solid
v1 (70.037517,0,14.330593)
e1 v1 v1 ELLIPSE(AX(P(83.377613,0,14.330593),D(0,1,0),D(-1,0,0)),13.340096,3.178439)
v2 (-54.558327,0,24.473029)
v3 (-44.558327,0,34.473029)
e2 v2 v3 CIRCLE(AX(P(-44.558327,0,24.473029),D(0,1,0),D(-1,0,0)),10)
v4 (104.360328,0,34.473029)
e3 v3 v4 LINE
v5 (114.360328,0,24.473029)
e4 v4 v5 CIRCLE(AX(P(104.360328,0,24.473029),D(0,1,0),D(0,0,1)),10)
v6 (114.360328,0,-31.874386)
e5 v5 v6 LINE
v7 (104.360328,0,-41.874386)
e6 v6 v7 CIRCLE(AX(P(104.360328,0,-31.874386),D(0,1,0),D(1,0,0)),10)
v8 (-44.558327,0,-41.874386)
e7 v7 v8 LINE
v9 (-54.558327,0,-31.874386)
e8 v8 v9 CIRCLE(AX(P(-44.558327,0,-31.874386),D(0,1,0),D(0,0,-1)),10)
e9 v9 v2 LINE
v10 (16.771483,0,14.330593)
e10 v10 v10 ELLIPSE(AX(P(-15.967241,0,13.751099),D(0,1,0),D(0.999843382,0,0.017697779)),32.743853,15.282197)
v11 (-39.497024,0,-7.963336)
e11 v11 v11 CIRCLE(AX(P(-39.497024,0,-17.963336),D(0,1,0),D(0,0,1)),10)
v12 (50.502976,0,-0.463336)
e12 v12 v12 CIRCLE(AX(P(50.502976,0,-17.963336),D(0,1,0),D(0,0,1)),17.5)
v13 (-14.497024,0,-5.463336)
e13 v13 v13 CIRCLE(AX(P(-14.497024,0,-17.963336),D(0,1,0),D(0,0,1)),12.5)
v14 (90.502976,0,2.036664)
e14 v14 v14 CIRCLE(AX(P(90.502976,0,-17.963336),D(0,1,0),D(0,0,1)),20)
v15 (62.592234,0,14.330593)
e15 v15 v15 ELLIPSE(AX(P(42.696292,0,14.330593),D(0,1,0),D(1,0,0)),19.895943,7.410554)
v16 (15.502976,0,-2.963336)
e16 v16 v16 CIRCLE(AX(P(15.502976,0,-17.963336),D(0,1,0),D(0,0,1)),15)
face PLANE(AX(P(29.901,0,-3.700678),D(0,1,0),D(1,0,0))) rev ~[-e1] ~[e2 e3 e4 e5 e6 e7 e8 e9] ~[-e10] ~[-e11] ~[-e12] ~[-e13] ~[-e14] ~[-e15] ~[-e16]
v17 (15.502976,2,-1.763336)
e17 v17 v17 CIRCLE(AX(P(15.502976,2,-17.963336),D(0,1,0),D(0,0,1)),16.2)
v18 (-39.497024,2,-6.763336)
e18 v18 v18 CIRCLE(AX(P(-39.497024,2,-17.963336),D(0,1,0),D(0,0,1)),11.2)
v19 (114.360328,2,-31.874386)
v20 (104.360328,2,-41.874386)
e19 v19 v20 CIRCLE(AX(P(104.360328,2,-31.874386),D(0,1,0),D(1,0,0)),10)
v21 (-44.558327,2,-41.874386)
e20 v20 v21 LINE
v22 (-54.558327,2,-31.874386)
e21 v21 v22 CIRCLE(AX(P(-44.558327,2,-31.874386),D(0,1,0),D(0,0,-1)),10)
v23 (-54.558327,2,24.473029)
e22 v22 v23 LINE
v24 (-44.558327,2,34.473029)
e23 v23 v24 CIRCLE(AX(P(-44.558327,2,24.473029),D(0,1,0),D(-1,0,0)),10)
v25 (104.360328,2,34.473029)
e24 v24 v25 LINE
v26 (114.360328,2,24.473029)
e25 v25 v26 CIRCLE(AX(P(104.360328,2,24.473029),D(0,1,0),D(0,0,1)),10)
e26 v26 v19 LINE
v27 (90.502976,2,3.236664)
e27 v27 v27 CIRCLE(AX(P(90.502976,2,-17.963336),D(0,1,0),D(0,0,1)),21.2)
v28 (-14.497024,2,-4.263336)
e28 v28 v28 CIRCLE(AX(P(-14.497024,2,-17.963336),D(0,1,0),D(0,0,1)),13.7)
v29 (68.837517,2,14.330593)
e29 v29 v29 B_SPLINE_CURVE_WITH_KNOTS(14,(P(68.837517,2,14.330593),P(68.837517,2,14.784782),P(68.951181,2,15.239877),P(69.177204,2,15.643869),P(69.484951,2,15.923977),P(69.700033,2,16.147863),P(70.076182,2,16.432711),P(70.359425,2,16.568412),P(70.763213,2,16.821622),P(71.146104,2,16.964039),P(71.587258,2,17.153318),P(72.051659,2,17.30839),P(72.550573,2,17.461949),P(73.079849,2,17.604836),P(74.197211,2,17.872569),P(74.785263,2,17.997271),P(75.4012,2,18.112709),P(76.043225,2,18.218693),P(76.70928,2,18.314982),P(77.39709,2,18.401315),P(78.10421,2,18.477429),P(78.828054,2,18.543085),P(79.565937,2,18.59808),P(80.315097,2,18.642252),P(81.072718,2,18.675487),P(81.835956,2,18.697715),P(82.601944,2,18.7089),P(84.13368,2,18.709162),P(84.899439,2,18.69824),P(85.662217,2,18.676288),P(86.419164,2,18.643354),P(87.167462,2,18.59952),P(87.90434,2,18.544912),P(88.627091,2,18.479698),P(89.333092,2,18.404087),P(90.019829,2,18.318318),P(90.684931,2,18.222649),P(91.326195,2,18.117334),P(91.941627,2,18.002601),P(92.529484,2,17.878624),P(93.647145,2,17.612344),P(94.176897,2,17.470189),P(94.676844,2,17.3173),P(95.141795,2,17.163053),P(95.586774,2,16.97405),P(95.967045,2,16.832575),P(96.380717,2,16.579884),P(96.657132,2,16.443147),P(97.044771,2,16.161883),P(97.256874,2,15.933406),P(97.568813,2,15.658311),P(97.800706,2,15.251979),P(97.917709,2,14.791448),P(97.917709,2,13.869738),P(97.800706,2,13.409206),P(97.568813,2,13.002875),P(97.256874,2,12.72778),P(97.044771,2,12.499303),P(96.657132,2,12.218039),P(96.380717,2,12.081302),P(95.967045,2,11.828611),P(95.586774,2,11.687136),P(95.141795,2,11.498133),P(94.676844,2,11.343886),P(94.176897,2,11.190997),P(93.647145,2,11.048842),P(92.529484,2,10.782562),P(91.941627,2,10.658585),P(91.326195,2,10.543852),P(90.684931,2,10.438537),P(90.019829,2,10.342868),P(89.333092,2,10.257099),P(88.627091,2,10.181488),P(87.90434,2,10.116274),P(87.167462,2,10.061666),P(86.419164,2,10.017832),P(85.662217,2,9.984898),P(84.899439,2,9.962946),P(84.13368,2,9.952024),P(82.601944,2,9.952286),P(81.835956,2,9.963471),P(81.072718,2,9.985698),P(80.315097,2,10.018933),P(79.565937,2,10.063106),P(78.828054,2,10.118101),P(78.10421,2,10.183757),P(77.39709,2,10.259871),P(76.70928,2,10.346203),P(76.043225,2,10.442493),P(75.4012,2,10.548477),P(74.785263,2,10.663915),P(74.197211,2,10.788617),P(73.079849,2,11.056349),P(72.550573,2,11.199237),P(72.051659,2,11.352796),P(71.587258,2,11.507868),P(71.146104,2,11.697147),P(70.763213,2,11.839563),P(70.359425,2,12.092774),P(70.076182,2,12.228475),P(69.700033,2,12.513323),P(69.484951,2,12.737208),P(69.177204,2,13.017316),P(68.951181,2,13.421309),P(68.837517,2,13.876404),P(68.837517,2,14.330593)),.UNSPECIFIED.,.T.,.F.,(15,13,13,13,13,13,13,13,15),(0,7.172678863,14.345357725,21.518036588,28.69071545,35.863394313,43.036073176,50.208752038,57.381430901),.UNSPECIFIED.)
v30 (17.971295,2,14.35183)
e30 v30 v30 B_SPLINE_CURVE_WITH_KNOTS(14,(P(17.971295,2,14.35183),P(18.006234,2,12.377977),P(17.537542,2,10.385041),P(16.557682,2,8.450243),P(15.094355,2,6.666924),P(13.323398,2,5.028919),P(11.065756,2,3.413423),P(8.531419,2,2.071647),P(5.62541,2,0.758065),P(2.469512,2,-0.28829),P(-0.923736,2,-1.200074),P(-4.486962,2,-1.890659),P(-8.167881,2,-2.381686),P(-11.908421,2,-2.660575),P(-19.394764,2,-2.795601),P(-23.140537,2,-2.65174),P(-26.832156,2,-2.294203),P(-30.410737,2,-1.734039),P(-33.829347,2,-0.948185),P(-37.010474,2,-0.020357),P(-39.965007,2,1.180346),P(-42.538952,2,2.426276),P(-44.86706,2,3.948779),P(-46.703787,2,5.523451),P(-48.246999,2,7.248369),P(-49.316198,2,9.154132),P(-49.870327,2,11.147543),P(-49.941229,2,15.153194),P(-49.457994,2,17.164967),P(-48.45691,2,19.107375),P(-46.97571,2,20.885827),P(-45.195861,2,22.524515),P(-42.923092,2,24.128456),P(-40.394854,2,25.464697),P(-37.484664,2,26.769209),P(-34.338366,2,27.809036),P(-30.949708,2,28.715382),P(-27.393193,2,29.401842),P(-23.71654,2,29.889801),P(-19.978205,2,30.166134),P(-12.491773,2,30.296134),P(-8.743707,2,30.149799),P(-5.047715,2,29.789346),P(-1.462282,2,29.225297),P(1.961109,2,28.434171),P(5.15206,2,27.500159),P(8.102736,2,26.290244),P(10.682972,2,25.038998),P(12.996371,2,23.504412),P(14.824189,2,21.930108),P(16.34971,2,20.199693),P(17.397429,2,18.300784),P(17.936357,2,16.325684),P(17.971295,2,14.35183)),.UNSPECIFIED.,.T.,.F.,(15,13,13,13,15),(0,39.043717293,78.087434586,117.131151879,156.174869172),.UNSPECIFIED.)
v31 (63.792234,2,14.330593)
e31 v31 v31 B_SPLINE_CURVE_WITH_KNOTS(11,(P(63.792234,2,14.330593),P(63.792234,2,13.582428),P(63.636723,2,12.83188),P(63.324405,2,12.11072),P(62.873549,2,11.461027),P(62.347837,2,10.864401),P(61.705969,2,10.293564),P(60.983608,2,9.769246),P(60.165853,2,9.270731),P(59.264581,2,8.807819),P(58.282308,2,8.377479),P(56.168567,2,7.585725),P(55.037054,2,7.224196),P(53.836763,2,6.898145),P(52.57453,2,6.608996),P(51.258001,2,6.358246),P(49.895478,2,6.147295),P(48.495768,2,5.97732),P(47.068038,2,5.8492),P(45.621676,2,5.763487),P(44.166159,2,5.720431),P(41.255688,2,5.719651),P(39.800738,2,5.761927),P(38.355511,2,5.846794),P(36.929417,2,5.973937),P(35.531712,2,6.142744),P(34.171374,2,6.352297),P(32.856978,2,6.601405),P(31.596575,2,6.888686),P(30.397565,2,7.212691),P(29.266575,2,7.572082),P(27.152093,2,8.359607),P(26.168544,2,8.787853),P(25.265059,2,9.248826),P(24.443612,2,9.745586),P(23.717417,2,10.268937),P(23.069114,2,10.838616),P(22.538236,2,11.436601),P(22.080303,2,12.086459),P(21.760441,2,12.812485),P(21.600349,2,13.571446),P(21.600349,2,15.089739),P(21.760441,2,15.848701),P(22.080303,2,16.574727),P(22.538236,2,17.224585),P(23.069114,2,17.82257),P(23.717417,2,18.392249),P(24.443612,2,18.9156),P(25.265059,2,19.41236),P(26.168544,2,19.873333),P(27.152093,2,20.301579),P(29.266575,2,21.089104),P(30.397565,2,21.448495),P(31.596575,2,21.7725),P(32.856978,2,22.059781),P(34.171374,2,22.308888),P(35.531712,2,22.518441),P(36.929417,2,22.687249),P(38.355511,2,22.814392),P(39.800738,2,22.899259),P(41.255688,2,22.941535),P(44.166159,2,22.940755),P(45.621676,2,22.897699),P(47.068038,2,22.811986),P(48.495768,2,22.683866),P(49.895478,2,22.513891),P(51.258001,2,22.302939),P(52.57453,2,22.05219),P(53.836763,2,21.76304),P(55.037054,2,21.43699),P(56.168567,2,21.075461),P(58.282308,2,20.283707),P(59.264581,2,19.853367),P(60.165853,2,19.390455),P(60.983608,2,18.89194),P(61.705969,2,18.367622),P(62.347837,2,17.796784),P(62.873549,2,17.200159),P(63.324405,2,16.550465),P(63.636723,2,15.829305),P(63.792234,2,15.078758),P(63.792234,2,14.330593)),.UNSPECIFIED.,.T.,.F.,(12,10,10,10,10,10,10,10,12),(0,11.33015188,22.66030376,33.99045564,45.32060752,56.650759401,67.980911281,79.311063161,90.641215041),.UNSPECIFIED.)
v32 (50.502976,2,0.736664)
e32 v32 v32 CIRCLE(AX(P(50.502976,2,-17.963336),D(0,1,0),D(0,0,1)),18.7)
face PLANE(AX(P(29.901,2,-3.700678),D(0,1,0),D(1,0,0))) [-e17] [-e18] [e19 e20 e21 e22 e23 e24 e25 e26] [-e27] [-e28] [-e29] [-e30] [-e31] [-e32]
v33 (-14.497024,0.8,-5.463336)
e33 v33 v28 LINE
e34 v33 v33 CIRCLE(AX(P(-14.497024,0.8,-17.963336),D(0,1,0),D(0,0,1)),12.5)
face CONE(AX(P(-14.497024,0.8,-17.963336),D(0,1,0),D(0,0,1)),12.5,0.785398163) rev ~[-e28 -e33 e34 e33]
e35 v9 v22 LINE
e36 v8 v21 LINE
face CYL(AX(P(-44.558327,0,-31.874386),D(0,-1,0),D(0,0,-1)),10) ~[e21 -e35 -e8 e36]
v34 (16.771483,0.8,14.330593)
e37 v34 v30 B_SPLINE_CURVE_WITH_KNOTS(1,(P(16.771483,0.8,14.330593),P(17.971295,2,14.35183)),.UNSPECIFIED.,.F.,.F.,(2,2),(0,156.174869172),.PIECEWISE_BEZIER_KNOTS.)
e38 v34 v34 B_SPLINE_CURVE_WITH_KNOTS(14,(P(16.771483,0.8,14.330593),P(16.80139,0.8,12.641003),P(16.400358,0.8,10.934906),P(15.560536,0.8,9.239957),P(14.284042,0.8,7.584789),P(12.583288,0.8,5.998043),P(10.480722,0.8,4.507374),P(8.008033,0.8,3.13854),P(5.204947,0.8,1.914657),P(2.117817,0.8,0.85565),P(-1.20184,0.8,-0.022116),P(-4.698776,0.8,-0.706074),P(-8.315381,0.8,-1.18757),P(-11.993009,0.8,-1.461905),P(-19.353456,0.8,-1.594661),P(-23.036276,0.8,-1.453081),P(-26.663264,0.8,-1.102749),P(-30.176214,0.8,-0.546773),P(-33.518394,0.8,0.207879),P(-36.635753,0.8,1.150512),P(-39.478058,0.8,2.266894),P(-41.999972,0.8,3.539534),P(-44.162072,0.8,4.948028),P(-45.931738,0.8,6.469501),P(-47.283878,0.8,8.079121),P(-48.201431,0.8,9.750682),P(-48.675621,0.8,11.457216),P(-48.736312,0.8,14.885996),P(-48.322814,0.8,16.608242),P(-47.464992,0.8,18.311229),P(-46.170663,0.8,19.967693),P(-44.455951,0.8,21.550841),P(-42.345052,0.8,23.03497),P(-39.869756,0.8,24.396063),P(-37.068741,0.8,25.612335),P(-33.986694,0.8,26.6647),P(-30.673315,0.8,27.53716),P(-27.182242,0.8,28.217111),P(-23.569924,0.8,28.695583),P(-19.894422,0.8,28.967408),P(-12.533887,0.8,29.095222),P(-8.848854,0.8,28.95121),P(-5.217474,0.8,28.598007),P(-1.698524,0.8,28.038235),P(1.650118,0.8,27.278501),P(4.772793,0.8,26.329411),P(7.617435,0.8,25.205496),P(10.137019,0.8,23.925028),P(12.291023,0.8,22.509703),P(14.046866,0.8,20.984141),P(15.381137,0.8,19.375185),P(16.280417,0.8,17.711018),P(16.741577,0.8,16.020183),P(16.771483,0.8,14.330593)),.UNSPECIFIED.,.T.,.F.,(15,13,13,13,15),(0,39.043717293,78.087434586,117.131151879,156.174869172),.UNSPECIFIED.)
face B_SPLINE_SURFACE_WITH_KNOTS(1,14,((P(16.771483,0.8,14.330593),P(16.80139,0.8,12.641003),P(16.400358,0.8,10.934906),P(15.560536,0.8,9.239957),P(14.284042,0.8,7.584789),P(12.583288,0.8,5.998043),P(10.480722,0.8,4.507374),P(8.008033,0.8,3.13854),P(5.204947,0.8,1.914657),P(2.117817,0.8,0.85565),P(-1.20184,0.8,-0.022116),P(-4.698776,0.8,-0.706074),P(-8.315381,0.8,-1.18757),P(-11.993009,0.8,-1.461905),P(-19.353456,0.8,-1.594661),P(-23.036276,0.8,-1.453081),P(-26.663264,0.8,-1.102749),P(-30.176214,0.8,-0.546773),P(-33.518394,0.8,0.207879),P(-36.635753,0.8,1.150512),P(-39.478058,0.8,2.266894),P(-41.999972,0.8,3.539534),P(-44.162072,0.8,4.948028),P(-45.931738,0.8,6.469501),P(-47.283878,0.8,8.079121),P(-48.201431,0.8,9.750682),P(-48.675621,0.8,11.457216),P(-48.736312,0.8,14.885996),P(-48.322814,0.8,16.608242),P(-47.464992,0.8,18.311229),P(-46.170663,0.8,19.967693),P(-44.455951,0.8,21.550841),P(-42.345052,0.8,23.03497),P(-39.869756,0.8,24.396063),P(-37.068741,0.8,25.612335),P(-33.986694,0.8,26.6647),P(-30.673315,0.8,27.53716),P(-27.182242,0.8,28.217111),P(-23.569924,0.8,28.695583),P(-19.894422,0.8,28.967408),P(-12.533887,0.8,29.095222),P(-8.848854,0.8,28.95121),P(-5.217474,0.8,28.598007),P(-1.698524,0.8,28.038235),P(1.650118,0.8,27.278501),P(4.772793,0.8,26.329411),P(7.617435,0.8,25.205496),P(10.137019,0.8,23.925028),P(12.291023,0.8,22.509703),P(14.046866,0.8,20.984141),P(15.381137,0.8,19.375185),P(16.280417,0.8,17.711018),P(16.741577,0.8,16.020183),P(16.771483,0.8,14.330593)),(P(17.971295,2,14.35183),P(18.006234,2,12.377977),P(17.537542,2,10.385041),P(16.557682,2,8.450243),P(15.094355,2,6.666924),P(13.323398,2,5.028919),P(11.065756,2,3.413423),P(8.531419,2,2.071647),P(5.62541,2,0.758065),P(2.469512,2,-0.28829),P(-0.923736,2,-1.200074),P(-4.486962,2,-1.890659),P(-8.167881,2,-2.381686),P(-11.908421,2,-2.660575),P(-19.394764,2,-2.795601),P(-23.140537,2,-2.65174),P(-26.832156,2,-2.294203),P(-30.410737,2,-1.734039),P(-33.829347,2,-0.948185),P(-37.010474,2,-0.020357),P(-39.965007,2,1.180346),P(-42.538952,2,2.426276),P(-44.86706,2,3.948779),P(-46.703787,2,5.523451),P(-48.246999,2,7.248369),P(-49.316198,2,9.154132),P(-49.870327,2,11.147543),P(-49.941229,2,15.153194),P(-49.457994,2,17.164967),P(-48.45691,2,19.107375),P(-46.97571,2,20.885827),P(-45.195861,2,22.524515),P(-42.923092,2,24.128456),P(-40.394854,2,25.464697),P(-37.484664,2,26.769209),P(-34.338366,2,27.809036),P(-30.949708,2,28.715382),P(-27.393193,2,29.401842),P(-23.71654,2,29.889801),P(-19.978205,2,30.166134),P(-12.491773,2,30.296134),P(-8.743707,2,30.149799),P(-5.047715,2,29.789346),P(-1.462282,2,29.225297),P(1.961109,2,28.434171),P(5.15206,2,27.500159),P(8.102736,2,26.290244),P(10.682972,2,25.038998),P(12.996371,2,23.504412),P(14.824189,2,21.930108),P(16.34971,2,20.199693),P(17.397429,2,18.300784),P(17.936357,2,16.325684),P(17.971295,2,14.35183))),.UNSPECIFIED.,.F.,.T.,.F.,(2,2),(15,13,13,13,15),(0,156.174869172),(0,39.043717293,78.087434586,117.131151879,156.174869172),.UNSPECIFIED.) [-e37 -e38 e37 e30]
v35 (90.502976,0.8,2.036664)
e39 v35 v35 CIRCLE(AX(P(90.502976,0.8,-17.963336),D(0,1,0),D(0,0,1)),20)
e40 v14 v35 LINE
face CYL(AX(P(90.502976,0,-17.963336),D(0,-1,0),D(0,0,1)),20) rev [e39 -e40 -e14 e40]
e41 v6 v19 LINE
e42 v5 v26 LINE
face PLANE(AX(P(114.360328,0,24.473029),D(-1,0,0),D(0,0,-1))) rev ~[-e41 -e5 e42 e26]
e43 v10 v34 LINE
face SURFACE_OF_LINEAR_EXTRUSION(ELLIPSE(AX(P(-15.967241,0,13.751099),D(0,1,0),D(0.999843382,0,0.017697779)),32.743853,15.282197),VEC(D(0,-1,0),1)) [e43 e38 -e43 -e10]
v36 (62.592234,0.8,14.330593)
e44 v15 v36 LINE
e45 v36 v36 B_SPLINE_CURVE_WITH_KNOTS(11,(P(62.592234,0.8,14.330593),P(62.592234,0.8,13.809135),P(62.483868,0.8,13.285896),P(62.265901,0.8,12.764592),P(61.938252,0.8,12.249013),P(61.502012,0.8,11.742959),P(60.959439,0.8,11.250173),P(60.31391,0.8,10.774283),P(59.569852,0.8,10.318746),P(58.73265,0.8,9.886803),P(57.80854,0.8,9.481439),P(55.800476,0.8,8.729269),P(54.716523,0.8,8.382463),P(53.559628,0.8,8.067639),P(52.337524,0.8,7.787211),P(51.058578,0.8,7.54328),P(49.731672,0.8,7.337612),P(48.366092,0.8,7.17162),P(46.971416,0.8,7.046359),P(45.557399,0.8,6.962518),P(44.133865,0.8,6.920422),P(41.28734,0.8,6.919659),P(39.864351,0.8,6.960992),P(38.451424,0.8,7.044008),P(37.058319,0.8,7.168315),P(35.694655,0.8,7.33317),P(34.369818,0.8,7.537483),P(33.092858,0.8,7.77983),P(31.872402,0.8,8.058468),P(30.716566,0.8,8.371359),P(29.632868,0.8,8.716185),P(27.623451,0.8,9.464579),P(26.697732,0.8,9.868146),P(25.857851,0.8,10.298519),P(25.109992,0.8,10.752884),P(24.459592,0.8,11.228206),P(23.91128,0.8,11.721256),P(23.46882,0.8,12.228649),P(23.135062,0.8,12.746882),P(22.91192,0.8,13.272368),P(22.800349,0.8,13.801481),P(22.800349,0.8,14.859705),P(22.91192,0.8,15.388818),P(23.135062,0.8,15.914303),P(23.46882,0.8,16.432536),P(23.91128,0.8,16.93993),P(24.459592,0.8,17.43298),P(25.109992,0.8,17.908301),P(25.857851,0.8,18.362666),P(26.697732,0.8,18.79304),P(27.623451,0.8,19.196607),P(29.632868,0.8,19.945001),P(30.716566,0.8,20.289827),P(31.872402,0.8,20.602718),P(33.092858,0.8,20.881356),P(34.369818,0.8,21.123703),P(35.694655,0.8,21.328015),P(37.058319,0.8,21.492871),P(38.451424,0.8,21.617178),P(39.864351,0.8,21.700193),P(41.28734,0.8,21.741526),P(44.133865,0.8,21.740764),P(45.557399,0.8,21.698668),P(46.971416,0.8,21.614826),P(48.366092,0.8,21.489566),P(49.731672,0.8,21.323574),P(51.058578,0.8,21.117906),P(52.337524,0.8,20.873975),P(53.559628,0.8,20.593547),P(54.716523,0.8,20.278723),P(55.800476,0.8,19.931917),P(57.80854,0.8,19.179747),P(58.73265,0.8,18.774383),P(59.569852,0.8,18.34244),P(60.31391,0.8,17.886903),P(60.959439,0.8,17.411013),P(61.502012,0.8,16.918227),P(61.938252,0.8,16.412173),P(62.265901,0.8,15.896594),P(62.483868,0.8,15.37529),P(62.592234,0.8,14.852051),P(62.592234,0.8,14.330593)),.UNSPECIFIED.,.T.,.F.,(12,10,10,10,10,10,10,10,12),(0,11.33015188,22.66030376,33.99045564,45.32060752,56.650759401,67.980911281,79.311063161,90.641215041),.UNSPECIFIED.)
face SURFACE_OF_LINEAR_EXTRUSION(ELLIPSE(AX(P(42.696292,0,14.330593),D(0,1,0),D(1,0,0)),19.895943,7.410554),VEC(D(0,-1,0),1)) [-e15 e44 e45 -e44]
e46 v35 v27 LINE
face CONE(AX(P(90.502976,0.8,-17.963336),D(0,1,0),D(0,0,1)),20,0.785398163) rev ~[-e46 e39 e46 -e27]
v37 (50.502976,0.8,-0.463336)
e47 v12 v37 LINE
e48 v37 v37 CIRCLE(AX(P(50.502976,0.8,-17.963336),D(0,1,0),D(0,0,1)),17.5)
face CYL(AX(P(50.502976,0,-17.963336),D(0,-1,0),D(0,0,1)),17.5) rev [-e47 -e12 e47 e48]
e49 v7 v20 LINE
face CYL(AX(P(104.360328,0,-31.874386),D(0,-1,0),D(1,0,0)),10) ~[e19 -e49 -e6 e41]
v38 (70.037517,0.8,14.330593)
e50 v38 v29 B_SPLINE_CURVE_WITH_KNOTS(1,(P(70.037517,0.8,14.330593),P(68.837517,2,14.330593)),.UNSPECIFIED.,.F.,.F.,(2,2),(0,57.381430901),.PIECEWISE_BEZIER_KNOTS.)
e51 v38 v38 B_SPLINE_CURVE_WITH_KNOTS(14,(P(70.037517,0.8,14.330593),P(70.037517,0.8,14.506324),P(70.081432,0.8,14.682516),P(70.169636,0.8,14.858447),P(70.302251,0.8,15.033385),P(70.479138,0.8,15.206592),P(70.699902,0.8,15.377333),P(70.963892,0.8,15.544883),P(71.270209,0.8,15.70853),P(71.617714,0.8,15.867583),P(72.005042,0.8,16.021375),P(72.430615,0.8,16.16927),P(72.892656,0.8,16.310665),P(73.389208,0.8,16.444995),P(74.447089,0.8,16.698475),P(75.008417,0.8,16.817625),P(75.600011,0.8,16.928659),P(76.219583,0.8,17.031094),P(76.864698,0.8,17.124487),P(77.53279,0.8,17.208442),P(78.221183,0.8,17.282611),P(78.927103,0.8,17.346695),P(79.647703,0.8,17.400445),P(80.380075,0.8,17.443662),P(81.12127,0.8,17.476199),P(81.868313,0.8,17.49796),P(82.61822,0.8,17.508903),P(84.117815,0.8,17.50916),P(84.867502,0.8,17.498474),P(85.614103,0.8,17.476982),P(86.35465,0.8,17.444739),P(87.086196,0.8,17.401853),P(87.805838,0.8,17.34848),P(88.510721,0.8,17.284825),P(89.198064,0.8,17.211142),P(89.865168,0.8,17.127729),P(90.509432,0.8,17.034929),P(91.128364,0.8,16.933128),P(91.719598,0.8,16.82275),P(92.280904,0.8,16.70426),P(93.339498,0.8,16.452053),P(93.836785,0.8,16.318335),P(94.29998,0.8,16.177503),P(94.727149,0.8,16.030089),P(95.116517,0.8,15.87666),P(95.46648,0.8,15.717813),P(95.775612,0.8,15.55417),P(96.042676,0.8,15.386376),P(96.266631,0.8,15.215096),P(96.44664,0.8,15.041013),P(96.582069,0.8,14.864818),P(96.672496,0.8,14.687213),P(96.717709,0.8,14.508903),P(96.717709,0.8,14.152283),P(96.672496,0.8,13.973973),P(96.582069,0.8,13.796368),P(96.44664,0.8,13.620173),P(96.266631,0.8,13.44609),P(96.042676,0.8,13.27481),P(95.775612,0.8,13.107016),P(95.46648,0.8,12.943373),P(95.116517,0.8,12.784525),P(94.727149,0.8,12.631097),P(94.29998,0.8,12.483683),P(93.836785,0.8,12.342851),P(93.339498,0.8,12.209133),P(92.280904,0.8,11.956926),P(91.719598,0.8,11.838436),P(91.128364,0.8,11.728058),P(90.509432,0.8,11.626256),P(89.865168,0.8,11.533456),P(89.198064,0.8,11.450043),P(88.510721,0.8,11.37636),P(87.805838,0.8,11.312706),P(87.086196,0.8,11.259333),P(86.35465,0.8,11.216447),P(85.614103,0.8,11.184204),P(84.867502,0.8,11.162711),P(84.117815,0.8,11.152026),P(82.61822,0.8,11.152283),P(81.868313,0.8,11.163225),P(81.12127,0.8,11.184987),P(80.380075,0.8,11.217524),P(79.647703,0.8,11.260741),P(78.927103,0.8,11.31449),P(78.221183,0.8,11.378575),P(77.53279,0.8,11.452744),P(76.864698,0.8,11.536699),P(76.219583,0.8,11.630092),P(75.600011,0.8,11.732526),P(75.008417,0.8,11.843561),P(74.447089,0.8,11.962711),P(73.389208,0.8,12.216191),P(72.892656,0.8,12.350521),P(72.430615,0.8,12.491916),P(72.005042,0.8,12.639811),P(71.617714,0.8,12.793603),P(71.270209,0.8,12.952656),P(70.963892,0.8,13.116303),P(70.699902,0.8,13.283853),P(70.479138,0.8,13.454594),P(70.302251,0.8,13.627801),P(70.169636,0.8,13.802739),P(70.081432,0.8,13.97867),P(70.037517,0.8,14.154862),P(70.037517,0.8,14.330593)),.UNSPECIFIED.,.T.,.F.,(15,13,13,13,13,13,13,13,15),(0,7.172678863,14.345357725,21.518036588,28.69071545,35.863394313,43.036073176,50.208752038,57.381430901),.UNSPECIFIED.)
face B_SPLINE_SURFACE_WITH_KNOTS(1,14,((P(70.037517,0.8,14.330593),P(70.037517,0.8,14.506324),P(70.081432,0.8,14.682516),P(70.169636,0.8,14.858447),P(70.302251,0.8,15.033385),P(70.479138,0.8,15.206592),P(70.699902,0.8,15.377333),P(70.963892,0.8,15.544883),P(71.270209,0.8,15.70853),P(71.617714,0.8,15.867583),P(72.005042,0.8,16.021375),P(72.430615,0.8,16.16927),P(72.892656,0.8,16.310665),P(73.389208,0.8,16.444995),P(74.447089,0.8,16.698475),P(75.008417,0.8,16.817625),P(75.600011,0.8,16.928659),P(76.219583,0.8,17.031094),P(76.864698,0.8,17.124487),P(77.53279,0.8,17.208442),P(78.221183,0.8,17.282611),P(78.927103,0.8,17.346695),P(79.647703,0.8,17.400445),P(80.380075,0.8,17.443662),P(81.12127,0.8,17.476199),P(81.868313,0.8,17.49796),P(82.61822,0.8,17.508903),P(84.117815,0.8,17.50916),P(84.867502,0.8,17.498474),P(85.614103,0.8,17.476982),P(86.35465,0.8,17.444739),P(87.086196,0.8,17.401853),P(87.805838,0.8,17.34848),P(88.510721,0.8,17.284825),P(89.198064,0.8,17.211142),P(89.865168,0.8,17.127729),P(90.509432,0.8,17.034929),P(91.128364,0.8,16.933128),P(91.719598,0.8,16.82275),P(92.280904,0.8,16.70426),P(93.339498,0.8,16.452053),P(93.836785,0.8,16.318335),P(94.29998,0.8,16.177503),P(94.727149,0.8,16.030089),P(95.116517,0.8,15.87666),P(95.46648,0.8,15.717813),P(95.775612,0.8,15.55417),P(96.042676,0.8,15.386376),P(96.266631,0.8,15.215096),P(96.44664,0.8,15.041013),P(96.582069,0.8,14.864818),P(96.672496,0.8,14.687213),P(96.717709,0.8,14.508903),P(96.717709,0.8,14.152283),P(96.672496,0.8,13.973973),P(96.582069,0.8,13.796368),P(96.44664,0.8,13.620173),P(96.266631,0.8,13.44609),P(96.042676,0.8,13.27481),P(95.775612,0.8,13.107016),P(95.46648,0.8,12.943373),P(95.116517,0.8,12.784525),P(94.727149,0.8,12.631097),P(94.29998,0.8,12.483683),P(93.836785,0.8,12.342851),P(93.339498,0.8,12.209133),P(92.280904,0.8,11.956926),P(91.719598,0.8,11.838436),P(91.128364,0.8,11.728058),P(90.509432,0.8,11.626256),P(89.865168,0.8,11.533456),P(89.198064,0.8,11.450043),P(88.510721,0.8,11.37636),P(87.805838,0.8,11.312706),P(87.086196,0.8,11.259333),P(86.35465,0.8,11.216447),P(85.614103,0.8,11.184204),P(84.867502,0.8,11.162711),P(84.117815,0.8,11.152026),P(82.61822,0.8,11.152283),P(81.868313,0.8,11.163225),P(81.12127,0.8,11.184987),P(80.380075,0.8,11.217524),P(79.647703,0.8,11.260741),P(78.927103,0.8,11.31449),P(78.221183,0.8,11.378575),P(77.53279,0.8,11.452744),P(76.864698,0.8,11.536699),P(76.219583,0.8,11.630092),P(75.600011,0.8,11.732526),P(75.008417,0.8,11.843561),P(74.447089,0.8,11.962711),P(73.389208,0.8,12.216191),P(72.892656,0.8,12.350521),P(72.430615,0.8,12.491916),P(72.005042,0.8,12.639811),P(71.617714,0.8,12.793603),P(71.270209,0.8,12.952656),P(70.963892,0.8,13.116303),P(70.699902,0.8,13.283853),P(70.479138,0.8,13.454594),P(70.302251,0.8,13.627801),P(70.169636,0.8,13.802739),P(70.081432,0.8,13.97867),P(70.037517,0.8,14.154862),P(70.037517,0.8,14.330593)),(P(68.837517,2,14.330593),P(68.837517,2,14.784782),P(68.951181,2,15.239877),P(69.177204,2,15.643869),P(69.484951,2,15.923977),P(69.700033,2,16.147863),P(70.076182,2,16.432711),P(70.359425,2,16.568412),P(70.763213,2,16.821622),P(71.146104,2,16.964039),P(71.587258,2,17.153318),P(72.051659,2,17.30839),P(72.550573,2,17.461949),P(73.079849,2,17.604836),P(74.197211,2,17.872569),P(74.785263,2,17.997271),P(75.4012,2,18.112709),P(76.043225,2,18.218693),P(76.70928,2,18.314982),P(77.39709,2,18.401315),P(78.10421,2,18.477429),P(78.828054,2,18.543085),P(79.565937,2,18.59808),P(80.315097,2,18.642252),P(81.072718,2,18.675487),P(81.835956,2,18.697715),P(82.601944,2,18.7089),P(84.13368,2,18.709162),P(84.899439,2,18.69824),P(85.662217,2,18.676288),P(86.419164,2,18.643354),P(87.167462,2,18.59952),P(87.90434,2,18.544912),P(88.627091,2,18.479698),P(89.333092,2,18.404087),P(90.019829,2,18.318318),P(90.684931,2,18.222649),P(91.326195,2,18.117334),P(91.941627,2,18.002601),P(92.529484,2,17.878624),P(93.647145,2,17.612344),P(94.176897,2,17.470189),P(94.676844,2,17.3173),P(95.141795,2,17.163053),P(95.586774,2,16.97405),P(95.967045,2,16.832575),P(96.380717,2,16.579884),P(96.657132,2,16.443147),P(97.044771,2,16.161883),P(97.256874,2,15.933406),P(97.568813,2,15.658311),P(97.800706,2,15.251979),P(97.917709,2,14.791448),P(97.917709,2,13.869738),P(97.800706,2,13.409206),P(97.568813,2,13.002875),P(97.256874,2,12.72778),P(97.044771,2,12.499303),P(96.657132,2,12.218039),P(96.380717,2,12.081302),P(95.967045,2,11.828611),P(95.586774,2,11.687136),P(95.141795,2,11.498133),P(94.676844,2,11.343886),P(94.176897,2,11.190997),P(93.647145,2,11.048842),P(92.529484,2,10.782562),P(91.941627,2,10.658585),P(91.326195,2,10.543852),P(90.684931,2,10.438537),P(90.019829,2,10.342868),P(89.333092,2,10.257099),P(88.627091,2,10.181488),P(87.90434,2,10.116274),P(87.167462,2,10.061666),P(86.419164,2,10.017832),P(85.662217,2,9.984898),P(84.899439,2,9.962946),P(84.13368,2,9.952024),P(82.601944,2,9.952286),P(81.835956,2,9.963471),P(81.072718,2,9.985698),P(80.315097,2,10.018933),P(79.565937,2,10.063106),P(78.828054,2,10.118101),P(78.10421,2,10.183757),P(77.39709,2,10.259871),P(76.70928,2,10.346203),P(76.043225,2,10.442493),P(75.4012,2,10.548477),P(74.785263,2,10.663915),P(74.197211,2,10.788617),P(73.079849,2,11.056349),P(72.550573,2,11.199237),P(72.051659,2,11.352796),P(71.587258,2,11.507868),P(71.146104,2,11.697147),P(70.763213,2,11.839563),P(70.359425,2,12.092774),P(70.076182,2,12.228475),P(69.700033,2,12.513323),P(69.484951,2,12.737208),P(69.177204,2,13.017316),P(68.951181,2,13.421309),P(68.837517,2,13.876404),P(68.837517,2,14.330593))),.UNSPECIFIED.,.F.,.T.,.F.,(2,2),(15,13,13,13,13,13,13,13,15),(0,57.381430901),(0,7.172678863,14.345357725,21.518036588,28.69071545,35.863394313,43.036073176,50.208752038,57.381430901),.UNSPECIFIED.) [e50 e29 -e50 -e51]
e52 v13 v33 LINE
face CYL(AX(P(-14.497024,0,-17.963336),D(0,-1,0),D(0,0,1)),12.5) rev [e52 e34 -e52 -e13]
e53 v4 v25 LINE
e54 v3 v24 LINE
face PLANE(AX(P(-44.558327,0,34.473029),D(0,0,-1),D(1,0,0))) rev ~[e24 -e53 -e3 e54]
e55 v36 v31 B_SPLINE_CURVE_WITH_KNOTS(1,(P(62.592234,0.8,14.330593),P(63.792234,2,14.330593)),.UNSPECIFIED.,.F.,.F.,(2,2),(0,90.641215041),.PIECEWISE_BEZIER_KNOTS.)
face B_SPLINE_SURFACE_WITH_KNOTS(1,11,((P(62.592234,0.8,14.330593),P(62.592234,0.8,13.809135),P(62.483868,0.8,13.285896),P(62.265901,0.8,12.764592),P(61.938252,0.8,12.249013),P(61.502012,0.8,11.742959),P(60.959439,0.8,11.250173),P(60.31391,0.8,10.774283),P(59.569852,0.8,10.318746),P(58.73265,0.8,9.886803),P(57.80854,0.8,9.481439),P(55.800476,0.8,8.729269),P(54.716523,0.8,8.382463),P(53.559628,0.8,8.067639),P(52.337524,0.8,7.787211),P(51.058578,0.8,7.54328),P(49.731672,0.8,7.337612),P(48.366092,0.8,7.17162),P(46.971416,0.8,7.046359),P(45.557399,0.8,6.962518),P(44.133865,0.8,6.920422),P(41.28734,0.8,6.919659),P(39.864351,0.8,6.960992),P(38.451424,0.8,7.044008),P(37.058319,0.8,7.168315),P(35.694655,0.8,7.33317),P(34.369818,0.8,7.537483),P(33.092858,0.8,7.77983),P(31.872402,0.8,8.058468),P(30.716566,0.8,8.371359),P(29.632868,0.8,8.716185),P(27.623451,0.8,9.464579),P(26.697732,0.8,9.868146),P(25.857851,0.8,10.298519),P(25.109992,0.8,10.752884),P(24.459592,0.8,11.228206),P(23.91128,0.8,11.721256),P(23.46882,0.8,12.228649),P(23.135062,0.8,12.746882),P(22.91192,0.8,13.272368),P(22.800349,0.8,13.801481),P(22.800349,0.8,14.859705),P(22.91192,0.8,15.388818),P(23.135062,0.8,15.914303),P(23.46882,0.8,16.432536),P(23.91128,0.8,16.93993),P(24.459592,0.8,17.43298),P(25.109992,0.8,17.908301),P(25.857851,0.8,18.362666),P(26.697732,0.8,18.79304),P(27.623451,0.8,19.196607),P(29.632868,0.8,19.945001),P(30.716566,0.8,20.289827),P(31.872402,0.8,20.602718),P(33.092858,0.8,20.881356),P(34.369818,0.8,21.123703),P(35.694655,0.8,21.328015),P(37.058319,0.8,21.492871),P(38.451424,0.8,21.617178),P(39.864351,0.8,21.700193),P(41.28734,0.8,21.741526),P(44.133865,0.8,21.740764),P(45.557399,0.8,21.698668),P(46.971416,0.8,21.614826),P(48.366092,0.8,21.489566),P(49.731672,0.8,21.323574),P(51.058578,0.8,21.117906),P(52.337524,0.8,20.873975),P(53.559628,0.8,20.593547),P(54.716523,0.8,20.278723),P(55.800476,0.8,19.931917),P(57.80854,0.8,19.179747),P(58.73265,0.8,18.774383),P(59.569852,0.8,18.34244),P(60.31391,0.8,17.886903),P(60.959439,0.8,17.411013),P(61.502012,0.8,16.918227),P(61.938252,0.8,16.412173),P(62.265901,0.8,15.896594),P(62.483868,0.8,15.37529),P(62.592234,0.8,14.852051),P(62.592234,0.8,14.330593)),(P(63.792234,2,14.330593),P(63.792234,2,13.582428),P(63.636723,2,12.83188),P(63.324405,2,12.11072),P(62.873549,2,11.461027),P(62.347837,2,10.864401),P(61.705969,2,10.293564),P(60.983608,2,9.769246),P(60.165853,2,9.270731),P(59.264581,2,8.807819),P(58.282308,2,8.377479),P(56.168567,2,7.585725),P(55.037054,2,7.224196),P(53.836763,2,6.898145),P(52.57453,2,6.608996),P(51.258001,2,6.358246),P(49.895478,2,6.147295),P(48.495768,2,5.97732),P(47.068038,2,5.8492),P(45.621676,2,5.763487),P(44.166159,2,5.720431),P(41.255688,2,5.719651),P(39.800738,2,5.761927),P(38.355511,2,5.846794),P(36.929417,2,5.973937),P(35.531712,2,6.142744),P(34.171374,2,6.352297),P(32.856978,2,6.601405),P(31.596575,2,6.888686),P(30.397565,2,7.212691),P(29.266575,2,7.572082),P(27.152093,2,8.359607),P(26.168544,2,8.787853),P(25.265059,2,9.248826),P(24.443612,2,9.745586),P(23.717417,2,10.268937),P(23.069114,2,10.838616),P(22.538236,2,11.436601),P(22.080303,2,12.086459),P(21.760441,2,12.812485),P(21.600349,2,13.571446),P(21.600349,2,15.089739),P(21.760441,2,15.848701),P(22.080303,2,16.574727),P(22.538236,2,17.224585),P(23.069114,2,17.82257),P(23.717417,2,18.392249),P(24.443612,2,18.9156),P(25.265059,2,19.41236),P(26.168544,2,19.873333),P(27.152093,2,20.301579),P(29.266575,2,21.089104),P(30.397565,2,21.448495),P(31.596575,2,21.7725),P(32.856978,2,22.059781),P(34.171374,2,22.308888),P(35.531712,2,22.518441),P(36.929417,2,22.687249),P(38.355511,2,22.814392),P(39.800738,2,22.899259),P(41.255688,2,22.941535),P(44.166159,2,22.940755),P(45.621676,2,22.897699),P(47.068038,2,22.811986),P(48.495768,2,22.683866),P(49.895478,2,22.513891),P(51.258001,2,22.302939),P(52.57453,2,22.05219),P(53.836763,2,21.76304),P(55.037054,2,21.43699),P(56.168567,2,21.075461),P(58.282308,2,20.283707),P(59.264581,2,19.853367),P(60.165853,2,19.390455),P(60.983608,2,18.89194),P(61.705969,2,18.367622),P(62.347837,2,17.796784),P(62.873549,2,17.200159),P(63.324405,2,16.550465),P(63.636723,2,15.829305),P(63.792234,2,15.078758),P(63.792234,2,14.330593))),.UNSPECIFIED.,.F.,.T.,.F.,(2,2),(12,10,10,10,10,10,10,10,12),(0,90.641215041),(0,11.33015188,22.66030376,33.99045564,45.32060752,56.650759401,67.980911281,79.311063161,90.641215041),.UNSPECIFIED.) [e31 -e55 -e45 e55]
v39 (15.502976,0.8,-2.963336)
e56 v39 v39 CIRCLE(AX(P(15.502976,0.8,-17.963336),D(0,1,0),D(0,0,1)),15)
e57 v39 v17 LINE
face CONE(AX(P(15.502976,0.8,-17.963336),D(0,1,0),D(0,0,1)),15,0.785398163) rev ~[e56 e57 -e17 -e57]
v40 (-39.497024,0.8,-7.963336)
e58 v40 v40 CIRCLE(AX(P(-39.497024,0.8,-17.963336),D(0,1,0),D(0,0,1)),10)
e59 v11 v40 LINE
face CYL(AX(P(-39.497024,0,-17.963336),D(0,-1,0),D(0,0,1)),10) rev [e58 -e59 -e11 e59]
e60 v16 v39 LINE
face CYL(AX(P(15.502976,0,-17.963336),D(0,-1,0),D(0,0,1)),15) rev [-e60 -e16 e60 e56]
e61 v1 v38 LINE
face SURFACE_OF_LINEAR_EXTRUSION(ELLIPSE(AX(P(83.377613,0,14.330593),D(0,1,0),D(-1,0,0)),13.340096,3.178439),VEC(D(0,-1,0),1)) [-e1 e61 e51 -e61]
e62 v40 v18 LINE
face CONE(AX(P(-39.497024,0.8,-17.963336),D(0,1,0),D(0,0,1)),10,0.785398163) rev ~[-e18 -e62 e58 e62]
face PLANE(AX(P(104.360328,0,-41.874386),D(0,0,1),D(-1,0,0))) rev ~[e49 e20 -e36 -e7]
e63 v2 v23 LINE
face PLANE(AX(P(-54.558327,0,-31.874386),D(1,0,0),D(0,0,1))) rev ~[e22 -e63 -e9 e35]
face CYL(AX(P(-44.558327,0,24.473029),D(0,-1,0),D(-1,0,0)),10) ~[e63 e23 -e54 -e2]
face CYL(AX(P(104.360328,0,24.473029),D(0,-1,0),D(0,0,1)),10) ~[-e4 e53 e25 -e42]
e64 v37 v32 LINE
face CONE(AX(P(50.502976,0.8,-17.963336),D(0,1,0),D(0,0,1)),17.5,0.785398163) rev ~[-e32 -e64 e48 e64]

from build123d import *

# Parameters (mm, degrees)
SKETCH1_R           = 10
SKETCH1_R_2         = 12.5
SKETCH1_R_3         = 15
SKETCH1_R_4         = 17.5
SKETCH1_R_5         = 20
SKETCH1_RX          = 32.743853127
SKETCH1_RY          = 15.28219651
SKETCH1_RX_2        = 19.895942638
SKETCH1_RY_2        = 7.410554201
SKETCH1_RX_3        = 13.340096181
SKETCH1_RY_3        = 3.178438996
BOSS_EXTRUDE1_DEPTH = 2
CHAMFER1_SIZE       = 1.2


with BuildPart() as part:
    # Sketch1 → Boss-Extrude1 (new body)
    with BuildSketch(Plane(origin=(0, 0, 0), x_dir=(1, 0, 0), z_dir=(0, 1, 0))):
        with BuildLine():
            Line((104.360328165, 41.874385695), (-44.558327228, 41.874385695))
            ThreePointArc((-44.558327228, 41.874385695), (-51.62939504, 38.945453507), (-54.558327228, 31.874385695))
            Line((-54.558327228, 31.874385695), (-54.558327228, -24.473029172))
            ThreePointArc((-54.558327228, -24.473029172), (-51.62939504, -31.544096984), (-44.558327228, -34.473029172))
            Line((-44.558327228, -34.473029172), (104.360328165, -34.473029172))
            ThreePointArc((104.360328165, -34.473029172), (111.431395977, -31.544096984), (114.360328165, -24.473029172))
            Line((114.360328165, -24.473029172), (114.360328165, 31.874385695))
            ThreePointArc((114.360328165, 31.874385695), (111.431395977, 38.945453507), (104.360328165, 41.874385695))
        make_face()
        with Locations(Location((-39.497024424, 17.963335967, 0), (0, 0, 270))):
            Circle(SKETCH1_R, mode=Mode.SUBTRACT)
        with Locations(Location((-14.497024424, 17.963335967, 0), (0, 0, 270))):
            Circle(SKETCH1_R_2, mode=Mode.SUBTRACT)
        with Locations(Location((15.502975576, 17.963335967, 0), (0, 0, 270))):
            Circle(SKETCH1_R_3, mode=Mode.SUBTRACT)
        with Locations(Location((50.502975576, 17.963335967, 0), (0, 0, 270))):
            Circle(SKETCH1_R_4, mode=Mode.SUBTRACT)
        with Locations(Location((90.502975576, 17.963335967, 0), (0, 0, 270))):
            Circle(SKETCH1_R_5, mode=Mode.SUBTRACT)
        with Locations(Location((-15.967241465, -13.751099436), (0, 0, -1.014060982))):
            Ellipse(SKETCH1_RX, SKETCH1_RY, mode=Mode.SUBTRACT)
        with Locations(Location((42.696291751, -14.330592911), (0, 0, 0))):
            Ellipse(SKETCH1_RX_2, SKETCH1_RY_2, mode=Mode.SUBTRACT)
        with Locations(Location((83.377613056, -14.330592911), (0, 0, 180))):
            Ellipse(SKETCH1_RX_3, SKETCH1_RY_3, mode=Mode.SUBTRACT)
    extrude(amount=BOSS_EXTRUDE1_DEPTH)

    # Chamfer1
    chamfer1_edges = [part.edges().sort_by_distance(p)[0] for p in [
        (-39.497024424, 2, -27.963335967),
        (-14.497024424, 2, -30.463335967),
        (15.502975576, 2, -32.963335967),
        (50.502975576, 2, -35.463335967),
        (90.502975576, 2, -37.963335967),
        (-48.707079481, 2, 13.305388474),
        (96.685374341, 2, 14.109425159),
        (22.804693335, 2, 14.485444524),
    ]]
    chamfer(chamfer1_edges, length=CHAMFER1_SIZE)


solid = part.part
